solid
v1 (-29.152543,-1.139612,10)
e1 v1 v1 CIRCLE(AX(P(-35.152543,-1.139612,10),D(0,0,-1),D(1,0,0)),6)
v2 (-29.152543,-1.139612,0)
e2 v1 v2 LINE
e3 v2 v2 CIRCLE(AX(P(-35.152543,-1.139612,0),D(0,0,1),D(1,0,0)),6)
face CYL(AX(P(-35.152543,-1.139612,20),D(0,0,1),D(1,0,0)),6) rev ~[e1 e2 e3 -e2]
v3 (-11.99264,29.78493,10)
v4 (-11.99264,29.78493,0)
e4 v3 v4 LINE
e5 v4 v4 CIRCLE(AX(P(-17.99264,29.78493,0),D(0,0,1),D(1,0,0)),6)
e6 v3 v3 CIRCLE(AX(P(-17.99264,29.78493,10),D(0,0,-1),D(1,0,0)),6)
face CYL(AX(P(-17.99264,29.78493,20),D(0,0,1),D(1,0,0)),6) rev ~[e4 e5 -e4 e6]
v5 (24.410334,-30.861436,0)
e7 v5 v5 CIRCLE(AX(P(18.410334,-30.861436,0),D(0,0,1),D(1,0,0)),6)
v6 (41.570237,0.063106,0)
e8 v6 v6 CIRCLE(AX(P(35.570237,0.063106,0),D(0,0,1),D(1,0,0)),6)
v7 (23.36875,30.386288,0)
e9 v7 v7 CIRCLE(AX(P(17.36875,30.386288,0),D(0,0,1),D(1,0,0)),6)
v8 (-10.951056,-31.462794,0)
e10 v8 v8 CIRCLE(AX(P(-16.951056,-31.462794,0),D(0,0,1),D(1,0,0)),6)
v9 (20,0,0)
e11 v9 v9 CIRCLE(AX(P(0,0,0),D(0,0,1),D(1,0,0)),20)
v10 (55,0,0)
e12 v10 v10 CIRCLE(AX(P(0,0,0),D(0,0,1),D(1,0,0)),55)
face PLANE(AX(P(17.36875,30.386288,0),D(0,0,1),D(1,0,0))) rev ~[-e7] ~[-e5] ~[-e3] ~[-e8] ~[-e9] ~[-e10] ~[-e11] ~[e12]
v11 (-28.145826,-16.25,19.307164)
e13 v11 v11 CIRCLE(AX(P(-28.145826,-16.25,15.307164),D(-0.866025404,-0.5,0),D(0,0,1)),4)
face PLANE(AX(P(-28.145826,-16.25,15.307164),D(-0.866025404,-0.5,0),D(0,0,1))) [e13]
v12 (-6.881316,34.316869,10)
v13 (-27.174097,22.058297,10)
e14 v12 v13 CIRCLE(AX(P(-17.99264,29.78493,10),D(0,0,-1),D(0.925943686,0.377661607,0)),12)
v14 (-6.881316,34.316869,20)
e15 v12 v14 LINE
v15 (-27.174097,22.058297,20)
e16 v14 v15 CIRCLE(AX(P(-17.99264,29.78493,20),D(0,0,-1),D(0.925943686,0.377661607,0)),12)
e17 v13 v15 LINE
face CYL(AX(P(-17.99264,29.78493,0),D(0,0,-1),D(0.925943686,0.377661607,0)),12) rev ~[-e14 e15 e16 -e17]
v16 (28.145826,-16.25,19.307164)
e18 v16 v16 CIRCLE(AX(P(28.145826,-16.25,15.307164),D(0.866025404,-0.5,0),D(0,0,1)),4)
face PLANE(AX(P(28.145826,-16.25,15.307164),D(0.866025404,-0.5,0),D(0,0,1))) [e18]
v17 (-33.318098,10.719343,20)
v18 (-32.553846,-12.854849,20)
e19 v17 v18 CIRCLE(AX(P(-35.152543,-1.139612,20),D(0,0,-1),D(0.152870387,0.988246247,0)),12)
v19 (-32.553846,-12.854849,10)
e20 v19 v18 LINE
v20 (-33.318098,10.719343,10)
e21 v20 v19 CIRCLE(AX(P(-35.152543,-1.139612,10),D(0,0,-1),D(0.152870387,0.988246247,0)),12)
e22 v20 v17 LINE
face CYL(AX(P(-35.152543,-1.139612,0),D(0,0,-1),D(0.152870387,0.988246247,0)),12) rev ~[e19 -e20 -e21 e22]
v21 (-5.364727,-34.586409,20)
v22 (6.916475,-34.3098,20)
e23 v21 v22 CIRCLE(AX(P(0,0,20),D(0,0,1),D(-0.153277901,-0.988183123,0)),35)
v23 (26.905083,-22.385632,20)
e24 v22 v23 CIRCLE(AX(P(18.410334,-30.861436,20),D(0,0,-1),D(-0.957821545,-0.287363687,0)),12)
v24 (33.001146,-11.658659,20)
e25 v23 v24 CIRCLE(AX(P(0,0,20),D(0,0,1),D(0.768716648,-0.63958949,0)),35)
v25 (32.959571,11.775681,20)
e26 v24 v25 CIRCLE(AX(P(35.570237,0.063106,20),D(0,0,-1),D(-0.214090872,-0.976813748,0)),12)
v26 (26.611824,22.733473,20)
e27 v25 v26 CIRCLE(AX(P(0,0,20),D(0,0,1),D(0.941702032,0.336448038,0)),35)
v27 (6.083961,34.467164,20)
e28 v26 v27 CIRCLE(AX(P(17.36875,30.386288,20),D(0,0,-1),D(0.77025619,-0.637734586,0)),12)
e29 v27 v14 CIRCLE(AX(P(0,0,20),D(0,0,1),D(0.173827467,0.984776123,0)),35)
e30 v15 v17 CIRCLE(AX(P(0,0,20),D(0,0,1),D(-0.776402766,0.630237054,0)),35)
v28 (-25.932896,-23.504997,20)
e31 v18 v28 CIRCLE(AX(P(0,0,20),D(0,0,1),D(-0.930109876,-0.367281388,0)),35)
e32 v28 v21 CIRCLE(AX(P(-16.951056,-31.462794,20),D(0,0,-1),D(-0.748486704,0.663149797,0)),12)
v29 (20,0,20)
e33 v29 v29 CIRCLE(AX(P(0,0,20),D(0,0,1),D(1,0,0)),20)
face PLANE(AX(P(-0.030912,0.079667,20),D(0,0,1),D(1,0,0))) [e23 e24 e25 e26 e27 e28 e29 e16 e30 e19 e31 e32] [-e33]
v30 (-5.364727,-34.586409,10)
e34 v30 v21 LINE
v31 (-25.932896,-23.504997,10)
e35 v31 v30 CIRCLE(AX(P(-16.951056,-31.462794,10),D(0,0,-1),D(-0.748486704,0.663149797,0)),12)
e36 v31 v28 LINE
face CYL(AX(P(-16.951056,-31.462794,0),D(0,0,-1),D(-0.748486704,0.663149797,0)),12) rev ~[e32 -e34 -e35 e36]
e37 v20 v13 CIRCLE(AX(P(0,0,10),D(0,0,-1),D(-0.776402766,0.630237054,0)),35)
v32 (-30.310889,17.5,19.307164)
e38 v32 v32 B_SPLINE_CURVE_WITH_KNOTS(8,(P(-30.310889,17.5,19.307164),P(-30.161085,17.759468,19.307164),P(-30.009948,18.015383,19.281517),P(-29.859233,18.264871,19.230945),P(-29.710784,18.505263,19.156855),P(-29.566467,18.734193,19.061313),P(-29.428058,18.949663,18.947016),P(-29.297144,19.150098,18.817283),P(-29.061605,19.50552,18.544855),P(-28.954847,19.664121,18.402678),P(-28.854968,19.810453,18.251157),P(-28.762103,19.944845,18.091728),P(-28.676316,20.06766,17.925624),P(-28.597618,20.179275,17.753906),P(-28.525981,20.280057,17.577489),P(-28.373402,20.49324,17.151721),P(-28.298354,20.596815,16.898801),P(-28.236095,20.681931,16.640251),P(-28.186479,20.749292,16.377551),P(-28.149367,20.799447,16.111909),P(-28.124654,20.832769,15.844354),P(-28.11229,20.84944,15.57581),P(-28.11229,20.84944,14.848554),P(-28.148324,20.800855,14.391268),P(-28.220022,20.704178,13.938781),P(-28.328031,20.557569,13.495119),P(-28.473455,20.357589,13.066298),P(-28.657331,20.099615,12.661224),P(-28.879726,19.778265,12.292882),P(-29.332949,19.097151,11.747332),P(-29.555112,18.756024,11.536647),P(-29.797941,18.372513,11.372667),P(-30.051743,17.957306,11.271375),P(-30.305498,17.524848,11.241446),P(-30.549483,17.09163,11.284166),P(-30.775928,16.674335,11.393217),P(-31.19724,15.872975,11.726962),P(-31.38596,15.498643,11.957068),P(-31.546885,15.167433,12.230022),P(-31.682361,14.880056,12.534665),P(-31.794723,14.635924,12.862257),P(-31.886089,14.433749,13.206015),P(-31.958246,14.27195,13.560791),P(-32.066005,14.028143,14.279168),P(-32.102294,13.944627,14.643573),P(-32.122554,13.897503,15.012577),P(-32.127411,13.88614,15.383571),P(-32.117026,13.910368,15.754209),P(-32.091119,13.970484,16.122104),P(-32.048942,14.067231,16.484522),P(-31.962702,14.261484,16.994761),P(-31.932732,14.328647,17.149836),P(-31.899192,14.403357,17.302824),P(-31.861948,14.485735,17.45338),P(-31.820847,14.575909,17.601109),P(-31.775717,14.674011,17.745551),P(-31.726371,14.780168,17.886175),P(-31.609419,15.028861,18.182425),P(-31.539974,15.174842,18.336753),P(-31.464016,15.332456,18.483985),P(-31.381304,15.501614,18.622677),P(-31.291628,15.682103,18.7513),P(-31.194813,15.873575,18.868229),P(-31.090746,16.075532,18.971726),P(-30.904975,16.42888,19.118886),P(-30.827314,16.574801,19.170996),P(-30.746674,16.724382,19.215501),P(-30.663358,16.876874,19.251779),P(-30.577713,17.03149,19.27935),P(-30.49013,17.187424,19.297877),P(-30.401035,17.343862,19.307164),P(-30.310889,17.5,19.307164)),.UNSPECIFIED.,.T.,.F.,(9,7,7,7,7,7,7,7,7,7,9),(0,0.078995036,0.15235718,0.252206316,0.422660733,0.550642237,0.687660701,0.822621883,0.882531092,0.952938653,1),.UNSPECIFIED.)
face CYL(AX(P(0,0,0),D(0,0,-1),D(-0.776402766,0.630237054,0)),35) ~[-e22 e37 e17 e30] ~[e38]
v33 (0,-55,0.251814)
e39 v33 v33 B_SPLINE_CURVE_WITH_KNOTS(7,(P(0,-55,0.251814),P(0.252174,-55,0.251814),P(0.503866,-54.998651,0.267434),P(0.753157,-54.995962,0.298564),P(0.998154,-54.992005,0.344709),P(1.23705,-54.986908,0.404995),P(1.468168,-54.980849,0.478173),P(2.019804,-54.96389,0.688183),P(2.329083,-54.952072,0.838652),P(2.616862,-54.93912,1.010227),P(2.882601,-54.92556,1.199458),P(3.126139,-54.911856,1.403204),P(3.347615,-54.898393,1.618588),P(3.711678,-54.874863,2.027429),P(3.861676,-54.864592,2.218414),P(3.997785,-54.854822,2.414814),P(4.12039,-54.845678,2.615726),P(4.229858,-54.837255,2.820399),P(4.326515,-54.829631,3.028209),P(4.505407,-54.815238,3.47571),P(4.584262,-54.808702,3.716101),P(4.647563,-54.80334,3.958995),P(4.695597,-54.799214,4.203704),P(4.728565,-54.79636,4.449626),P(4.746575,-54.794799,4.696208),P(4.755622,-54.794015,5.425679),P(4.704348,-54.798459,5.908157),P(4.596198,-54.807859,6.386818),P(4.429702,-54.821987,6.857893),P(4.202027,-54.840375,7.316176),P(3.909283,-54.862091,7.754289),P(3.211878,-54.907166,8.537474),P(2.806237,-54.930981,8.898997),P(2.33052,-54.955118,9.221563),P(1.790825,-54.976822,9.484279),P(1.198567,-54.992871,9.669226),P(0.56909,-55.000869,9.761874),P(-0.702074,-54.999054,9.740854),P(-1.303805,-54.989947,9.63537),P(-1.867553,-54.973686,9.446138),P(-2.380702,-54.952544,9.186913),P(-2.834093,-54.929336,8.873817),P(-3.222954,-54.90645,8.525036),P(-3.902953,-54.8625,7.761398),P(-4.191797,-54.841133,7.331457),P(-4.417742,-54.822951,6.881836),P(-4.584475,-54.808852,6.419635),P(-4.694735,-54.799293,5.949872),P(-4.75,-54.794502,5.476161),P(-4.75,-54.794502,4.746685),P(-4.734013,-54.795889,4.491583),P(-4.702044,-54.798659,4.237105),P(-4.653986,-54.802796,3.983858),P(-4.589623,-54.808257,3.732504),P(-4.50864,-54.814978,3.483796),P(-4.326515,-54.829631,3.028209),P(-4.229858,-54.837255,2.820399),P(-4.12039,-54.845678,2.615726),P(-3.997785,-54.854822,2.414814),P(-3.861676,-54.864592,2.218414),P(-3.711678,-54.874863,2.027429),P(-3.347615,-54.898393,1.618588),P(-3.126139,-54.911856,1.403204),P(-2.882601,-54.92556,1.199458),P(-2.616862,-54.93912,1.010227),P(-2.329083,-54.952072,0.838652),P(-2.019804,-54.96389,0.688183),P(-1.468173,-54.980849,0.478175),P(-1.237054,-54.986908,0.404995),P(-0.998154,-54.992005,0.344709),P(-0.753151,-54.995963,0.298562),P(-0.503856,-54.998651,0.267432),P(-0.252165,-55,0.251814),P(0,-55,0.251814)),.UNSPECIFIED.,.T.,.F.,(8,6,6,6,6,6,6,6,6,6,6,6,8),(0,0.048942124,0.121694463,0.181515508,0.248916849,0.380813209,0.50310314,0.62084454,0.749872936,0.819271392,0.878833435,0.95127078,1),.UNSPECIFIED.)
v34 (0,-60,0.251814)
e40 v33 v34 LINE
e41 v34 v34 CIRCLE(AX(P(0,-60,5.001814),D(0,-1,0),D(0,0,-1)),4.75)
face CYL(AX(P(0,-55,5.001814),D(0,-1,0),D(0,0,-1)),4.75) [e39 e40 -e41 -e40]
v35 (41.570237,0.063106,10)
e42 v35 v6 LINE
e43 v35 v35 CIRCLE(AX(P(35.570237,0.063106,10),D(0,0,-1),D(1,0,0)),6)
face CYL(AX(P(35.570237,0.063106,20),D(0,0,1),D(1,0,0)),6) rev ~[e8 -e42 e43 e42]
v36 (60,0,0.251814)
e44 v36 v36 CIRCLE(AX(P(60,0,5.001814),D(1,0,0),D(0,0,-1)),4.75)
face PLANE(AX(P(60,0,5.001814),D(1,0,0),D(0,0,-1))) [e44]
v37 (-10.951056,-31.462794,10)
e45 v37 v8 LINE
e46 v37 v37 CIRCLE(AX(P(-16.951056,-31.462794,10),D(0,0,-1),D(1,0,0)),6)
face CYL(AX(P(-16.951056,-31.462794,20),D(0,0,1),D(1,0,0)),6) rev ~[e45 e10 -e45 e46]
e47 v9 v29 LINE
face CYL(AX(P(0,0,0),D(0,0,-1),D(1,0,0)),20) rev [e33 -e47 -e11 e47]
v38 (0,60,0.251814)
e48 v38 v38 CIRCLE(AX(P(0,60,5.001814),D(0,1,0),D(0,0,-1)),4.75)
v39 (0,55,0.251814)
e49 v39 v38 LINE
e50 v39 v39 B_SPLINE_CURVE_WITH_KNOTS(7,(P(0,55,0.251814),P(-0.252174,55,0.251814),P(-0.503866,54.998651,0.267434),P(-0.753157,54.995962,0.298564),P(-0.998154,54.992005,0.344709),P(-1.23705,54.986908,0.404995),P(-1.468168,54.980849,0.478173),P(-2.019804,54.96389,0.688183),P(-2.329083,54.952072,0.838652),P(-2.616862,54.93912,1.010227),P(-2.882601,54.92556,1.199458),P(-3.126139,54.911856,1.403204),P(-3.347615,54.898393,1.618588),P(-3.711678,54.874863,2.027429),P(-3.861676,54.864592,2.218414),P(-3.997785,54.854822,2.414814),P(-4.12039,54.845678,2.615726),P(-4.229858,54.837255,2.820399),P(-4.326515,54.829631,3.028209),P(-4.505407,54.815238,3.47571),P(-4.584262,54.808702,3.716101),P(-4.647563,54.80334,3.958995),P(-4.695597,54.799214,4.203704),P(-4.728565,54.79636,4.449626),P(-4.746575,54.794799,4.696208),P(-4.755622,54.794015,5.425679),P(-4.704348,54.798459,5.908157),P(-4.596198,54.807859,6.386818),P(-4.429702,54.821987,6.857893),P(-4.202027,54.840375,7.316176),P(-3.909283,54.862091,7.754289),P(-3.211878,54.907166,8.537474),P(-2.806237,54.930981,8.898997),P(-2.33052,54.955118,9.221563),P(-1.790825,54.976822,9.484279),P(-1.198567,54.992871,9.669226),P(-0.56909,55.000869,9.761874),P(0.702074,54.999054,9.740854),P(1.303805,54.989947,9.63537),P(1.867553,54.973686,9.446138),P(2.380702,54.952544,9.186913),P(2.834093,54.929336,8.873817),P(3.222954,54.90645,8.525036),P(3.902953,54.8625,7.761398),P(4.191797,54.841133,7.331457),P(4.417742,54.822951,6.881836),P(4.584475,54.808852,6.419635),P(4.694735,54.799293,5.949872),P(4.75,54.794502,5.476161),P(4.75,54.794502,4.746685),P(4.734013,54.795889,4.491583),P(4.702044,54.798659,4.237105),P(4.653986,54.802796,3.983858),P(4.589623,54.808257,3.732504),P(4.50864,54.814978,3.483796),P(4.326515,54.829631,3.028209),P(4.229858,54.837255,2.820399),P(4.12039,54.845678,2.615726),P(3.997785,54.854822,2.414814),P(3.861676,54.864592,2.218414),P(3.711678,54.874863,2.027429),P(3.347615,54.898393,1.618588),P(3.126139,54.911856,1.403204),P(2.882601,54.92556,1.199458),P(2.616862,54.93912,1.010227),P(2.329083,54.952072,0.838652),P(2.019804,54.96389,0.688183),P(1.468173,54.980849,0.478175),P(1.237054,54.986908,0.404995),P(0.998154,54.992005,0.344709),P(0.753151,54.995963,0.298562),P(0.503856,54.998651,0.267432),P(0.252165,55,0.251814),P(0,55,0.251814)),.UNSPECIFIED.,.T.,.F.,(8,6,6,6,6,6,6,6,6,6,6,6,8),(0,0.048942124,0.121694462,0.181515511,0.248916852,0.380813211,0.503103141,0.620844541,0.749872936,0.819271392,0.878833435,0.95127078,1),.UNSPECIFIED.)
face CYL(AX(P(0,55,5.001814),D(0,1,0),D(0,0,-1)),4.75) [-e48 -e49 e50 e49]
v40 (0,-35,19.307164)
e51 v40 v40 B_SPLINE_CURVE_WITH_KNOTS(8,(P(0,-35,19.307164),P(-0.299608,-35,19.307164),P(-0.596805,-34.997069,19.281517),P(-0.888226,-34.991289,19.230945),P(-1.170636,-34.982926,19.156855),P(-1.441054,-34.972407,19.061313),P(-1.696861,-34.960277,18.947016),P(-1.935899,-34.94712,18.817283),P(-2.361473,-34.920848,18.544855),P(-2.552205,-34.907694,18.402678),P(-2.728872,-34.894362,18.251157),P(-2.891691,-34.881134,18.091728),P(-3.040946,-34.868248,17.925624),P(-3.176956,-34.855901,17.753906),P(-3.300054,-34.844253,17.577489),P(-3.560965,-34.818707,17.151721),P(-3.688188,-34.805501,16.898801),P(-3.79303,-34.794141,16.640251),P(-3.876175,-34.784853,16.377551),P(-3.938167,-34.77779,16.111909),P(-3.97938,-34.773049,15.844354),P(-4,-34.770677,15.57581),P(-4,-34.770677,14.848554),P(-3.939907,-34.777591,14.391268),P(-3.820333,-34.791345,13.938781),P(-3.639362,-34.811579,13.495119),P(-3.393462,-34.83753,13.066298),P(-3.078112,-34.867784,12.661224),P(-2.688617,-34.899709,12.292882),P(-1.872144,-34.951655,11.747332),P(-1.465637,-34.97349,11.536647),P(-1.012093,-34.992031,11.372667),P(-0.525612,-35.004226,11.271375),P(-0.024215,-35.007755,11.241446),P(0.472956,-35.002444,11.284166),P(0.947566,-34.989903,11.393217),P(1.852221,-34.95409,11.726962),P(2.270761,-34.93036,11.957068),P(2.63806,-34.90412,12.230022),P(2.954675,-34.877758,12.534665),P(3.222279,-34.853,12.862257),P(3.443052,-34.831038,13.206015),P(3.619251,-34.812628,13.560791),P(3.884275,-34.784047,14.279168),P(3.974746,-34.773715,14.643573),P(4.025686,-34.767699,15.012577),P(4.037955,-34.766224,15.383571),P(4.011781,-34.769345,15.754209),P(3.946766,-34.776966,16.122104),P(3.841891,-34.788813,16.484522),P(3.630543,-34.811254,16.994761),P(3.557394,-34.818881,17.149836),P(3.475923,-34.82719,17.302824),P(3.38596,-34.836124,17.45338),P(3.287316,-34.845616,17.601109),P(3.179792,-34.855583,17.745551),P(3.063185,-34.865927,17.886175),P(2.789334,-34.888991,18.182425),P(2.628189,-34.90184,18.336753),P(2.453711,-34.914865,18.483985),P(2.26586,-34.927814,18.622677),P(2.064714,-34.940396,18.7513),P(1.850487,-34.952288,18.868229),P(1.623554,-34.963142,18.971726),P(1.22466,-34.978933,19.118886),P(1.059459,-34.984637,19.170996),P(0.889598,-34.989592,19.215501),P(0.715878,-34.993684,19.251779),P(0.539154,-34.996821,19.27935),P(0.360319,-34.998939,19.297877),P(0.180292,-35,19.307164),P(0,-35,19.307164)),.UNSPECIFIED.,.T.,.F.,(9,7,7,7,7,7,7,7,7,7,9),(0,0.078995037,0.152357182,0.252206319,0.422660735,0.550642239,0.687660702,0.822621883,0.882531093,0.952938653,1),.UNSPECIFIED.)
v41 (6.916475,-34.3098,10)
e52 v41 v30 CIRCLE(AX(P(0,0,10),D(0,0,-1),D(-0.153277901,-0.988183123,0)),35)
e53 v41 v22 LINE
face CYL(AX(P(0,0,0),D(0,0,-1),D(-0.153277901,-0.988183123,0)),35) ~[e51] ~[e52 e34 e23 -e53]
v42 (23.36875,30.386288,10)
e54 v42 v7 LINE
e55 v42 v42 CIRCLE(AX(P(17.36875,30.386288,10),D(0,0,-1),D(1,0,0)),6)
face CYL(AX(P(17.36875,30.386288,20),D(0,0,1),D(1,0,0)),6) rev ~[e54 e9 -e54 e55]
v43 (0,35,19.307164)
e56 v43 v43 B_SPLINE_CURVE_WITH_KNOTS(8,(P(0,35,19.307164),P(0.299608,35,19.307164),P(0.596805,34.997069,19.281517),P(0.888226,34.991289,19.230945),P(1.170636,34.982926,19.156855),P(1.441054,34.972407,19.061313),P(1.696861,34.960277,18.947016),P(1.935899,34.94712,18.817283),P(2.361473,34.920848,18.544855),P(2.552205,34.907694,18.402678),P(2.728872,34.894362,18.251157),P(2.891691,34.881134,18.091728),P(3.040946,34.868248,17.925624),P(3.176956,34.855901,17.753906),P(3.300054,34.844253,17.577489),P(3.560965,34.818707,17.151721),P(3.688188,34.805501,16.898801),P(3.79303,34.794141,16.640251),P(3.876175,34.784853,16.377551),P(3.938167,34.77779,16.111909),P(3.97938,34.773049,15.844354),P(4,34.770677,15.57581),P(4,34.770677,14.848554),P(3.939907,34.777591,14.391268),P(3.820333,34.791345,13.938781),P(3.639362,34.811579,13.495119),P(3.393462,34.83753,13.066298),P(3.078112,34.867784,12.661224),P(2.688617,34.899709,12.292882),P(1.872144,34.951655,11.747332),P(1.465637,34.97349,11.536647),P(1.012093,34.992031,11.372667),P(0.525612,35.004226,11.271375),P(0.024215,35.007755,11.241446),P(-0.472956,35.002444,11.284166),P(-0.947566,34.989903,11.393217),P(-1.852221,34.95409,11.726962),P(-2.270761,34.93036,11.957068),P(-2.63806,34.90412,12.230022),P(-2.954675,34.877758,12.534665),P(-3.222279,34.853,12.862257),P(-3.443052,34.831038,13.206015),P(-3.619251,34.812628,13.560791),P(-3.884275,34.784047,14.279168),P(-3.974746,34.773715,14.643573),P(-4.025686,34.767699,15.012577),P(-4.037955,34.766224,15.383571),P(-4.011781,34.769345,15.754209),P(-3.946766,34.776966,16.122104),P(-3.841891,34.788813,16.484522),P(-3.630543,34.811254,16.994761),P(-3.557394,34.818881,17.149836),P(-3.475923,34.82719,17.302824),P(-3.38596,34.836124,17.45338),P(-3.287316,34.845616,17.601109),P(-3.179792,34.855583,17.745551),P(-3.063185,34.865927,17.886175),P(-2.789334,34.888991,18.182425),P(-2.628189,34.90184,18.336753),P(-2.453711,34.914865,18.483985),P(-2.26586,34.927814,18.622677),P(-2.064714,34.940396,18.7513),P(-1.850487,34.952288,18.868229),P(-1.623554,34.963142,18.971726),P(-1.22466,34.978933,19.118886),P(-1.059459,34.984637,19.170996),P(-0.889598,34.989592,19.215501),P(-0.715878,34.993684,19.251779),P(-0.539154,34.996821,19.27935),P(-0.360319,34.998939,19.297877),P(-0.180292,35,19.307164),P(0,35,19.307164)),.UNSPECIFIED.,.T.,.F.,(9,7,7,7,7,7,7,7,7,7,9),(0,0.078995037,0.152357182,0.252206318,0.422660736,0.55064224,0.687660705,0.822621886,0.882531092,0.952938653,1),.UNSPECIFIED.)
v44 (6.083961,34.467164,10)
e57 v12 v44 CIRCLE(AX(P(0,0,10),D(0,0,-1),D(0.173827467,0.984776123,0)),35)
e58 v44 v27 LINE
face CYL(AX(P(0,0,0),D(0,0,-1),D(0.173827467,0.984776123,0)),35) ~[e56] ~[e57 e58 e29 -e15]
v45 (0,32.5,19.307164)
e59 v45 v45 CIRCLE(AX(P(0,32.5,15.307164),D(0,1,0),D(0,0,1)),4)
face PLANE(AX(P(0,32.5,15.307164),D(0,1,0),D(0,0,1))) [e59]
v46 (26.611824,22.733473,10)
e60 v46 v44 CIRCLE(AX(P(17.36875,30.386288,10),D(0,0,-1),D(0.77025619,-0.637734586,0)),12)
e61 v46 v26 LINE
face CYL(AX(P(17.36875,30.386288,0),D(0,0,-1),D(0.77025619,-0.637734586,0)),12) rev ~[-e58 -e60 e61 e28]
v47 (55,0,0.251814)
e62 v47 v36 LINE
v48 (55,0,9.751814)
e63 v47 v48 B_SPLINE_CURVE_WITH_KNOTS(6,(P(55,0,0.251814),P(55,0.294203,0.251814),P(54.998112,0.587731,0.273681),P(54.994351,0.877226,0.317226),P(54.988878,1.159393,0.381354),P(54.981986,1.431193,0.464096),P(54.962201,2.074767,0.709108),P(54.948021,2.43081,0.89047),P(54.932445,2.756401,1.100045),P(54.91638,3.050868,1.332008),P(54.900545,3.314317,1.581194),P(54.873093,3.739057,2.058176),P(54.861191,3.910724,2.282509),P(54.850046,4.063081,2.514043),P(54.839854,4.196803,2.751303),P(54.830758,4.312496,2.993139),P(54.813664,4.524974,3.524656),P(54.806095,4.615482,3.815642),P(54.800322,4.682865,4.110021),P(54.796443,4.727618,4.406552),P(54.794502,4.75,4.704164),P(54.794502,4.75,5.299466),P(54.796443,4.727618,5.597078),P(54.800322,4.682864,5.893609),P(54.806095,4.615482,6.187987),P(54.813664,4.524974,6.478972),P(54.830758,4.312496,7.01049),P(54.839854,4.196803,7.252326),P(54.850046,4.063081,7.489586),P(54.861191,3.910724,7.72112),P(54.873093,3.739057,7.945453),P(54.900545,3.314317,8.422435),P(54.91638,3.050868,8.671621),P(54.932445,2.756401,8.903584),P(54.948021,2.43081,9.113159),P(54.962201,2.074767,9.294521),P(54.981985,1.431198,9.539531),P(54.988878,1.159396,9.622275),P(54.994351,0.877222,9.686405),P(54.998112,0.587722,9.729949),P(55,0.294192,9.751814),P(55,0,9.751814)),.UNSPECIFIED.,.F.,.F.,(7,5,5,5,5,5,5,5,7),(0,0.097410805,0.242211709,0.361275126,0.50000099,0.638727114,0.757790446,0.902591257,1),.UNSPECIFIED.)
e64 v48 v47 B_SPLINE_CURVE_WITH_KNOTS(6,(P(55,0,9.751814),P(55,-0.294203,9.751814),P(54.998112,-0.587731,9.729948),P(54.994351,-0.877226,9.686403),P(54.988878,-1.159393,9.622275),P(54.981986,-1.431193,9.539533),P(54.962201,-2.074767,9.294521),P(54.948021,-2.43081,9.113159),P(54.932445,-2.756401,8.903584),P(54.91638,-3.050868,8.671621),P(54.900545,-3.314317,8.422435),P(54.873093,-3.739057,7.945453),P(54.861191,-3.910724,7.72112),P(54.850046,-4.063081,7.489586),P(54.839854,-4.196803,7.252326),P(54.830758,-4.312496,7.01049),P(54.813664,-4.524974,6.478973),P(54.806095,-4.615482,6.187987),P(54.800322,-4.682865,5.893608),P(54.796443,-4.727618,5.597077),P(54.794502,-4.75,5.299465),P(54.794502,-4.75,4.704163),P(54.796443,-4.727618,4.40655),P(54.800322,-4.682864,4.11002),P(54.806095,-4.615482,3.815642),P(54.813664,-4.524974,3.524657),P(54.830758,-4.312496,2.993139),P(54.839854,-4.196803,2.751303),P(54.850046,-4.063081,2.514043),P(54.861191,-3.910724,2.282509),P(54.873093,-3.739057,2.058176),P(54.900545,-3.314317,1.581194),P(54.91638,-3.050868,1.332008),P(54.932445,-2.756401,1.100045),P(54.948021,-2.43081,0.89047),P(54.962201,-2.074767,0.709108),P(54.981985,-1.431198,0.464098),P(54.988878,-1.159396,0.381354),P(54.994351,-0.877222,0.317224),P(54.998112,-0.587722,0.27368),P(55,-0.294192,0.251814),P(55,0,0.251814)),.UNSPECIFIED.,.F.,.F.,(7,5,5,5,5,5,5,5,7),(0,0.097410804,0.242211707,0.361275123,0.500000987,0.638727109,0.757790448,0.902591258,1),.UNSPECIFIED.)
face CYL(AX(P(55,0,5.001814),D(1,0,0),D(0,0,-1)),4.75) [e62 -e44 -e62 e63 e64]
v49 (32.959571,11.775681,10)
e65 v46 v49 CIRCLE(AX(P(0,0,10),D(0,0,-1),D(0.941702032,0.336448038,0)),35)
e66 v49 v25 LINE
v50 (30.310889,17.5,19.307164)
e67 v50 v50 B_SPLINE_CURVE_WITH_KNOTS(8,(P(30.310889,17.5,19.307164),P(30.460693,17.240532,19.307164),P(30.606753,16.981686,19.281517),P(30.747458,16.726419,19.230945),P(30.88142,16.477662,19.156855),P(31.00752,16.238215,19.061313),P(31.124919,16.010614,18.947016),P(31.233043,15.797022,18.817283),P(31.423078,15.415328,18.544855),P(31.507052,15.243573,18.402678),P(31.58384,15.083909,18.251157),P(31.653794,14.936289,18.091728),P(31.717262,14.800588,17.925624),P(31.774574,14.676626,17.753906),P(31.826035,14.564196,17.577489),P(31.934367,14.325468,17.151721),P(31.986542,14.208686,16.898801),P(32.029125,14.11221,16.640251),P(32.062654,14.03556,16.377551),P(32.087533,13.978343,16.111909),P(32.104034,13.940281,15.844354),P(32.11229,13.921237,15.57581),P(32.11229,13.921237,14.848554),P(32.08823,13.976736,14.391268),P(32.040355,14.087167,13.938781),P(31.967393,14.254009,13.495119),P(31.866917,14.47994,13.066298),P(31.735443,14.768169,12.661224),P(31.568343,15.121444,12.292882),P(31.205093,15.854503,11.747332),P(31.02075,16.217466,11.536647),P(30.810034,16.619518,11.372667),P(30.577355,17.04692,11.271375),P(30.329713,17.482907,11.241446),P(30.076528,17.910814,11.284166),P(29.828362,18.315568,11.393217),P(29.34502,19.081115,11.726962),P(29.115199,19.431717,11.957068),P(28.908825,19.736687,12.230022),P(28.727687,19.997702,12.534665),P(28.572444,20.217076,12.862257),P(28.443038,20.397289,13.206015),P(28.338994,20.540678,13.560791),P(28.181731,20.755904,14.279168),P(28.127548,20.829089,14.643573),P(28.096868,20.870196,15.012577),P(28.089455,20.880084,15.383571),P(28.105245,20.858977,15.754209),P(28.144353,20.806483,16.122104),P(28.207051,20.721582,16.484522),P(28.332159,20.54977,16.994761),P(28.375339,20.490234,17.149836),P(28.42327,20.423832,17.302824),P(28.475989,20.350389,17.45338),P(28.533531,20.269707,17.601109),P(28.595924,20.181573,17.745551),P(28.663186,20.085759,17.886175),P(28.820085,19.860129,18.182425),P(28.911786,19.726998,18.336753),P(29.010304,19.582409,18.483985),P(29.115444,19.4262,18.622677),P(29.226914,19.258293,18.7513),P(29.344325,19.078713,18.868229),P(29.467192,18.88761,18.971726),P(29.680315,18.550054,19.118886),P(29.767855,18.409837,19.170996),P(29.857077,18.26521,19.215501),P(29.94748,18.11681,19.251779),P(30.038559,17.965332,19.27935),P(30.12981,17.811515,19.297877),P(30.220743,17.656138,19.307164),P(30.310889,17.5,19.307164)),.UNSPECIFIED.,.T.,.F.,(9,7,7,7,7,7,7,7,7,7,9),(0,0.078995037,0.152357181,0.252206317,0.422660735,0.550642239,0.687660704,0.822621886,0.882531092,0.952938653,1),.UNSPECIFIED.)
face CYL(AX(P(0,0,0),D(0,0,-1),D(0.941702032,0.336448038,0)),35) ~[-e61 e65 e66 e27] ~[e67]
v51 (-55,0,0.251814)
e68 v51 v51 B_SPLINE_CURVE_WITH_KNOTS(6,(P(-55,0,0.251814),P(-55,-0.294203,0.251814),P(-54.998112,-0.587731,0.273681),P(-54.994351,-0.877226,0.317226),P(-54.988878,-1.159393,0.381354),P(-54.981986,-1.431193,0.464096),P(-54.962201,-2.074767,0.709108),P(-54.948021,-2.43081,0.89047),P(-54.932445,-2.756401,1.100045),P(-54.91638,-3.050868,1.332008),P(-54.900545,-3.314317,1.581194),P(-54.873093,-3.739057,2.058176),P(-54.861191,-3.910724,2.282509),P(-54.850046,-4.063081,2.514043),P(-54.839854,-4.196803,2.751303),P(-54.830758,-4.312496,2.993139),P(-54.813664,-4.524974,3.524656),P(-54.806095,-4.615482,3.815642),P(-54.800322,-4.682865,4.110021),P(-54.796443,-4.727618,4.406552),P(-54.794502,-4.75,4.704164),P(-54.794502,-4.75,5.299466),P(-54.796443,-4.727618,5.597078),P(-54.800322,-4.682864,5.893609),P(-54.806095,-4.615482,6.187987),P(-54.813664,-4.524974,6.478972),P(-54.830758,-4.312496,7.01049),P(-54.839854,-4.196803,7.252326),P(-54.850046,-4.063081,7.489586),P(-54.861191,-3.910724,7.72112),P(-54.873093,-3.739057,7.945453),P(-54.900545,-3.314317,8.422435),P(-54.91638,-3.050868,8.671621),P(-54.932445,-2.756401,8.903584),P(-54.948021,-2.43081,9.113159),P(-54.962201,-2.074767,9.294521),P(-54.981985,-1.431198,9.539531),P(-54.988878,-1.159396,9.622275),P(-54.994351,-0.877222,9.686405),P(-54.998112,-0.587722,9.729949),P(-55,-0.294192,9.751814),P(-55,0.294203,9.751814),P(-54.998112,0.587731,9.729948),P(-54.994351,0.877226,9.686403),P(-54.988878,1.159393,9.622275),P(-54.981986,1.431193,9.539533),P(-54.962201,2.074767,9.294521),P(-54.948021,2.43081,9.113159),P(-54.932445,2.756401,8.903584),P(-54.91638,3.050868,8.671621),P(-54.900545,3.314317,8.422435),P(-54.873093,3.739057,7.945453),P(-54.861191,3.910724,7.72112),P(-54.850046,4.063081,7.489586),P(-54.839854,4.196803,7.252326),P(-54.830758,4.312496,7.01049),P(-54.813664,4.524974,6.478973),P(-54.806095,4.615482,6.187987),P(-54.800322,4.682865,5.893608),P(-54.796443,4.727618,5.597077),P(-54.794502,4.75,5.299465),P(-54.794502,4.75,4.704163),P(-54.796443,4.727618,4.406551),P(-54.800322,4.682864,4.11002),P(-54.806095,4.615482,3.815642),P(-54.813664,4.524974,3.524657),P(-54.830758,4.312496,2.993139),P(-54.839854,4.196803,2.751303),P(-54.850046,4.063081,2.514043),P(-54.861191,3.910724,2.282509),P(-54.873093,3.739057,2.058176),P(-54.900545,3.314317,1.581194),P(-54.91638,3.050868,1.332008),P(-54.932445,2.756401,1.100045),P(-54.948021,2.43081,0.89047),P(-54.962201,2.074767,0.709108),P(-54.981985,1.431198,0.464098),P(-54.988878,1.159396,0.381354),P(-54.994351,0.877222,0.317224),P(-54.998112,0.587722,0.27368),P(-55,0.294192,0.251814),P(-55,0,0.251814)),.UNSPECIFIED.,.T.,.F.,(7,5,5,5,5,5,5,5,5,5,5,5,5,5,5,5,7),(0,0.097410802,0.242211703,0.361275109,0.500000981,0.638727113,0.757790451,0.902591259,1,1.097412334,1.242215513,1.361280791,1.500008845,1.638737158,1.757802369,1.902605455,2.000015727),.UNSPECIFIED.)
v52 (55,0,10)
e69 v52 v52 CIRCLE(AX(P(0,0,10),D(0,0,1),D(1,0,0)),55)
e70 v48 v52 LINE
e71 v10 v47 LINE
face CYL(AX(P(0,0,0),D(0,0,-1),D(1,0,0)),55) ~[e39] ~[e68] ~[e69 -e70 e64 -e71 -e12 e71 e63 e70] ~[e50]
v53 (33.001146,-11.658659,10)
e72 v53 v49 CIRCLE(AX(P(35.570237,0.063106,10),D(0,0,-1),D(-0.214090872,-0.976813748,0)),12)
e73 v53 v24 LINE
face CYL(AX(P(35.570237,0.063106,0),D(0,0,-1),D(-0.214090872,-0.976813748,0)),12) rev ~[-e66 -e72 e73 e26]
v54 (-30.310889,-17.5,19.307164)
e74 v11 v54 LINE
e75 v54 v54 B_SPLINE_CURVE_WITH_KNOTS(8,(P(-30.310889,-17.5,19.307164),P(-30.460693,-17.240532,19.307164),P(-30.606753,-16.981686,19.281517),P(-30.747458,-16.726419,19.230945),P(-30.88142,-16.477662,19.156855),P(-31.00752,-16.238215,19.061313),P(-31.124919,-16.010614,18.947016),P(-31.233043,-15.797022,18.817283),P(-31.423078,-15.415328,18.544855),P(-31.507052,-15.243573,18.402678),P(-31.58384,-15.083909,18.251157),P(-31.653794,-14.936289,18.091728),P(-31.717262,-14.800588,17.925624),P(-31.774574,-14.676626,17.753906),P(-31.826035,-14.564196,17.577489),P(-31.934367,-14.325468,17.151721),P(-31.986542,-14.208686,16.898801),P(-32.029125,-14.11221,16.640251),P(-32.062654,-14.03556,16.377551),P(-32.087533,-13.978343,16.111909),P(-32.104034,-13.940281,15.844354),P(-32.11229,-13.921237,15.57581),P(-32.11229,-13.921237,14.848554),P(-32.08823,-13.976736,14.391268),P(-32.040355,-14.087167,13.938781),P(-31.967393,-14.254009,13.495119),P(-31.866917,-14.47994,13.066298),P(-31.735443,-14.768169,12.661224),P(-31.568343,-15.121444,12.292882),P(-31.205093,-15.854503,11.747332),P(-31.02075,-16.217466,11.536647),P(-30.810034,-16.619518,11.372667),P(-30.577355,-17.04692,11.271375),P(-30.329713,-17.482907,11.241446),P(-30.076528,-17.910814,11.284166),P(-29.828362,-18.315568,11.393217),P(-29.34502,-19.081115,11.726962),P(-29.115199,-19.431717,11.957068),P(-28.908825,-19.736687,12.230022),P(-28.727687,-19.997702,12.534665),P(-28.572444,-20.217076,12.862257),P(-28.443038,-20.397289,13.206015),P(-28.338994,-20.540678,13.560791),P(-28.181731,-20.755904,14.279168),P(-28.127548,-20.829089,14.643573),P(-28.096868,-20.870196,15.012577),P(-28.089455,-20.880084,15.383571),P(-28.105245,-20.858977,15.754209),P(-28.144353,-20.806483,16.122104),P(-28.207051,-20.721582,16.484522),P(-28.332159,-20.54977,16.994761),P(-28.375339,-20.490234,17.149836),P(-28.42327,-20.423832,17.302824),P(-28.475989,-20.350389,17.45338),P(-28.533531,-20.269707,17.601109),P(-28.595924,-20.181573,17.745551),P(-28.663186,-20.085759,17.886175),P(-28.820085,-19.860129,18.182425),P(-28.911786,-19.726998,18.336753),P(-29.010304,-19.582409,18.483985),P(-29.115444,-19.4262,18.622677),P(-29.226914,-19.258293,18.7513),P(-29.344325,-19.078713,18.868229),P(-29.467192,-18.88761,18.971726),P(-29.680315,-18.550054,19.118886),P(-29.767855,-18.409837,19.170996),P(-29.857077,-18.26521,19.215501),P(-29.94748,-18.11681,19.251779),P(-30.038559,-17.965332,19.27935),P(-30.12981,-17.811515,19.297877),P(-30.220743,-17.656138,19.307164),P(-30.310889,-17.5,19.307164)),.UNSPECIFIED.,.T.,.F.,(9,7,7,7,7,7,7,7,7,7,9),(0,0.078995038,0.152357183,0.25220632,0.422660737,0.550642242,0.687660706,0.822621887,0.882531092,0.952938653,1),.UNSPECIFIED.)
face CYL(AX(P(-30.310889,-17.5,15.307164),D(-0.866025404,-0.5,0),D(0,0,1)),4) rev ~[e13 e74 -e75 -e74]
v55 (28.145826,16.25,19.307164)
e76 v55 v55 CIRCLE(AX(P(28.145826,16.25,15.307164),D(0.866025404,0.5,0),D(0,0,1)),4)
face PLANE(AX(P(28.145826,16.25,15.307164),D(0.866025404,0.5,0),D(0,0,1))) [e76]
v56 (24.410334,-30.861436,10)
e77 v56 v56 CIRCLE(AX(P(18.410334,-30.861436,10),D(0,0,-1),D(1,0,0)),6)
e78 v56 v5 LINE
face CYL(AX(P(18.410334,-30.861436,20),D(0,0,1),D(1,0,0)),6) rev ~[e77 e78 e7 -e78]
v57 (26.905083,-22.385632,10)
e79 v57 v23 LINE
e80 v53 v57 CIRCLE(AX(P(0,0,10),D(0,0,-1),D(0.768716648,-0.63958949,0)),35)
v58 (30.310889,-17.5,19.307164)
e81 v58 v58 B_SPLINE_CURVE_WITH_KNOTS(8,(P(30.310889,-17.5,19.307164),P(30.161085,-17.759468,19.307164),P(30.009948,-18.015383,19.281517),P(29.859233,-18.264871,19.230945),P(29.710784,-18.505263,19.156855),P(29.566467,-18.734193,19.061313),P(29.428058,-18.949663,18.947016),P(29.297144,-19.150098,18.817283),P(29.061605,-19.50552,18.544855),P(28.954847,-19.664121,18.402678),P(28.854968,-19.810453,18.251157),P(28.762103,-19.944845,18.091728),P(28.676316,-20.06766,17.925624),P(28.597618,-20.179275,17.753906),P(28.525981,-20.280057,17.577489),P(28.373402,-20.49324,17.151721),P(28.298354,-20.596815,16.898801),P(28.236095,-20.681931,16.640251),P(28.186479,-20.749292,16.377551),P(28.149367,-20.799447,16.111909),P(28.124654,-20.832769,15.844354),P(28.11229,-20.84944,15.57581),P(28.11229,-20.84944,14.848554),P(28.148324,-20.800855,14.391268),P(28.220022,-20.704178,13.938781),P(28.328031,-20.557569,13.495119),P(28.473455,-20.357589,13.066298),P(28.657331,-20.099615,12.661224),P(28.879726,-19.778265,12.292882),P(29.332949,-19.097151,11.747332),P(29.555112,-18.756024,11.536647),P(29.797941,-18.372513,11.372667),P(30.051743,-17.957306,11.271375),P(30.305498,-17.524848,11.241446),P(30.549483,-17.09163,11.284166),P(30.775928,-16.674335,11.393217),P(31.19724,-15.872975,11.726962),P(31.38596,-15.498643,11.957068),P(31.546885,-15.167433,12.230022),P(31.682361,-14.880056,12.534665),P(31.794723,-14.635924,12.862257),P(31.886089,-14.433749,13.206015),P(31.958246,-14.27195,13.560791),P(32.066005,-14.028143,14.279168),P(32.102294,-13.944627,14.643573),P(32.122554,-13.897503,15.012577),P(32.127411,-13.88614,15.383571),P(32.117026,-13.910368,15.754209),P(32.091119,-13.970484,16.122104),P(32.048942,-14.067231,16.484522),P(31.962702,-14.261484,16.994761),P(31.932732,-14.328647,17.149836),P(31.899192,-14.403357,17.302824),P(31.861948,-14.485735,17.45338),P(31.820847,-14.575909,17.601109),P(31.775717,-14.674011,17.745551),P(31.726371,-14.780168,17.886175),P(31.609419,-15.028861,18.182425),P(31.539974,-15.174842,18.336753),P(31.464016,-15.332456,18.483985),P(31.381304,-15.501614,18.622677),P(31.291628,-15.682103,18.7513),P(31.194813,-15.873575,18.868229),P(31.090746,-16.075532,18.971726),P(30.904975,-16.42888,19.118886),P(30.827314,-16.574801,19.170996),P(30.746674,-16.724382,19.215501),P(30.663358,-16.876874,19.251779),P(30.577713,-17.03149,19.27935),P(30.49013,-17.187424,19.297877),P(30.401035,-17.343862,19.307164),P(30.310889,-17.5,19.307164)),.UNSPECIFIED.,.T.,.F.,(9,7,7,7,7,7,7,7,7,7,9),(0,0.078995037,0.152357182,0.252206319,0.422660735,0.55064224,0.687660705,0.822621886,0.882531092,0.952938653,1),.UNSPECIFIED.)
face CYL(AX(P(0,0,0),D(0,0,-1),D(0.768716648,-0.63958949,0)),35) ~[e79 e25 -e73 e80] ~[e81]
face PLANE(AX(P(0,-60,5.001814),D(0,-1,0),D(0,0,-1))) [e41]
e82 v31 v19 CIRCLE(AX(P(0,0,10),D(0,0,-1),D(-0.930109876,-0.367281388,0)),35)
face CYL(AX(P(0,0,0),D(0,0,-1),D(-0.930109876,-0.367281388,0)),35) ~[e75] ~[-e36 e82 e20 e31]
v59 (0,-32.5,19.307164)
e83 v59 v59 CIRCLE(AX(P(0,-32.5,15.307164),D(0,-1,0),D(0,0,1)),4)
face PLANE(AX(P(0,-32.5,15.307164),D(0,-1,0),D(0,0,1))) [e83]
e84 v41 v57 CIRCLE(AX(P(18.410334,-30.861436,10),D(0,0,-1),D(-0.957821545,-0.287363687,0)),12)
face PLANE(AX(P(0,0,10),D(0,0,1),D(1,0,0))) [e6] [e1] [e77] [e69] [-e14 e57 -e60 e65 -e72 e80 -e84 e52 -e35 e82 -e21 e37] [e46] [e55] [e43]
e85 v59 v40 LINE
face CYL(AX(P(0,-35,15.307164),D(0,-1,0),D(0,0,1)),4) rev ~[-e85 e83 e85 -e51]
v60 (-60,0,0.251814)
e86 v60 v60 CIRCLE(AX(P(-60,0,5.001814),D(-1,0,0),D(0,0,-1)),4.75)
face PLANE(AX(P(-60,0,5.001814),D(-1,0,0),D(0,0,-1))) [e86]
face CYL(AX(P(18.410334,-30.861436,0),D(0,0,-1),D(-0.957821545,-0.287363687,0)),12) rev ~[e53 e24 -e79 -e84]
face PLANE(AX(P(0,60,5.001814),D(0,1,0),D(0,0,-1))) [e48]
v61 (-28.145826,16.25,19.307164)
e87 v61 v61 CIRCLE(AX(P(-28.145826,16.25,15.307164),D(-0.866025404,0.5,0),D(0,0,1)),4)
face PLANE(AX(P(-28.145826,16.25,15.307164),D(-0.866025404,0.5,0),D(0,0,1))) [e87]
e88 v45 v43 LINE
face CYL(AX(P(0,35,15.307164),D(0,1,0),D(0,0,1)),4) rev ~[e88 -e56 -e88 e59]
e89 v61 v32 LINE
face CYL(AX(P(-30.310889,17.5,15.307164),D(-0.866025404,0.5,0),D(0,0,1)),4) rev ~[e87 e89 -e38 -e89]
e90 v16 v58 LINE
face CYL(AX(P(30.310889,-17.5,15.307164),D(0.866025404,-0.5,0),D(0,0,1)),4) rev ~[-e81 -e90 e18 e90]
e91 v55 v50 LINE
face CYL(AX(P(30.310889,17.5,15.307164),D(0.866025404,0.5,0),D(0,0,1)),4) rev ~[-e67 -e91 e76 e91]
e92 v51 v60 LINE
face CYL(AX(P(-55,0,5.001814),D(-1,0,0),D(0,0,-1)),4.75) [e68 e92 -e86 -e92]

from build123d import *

# Parameters (mm, degrees)
CROQUIS1_R              = 55
CROQUIS1_R_2            = 20
SALIENTE_EXTRUIR1_DEPTH = 10
CROQUIS2_R              = 6
CROQUIS2_R_2            = 20
SALIENTE_EXTRUIR2_DEPTH = 20
CROQUIS3_R              = 6
CORTAR_EXTRUIR2_DEPTH   = 81.311892021
CROQUIS4_R              = 4.75
SALIENTE_EXTRUIR3_DEPTH = 5
MATRIZC1_COUNT          = 4
CROQUIS5_R              = 4
CORTAR_EXTRUIR3_DEPTH   = 2.5
MATRIZC2_COUNT          = 6


with BuildPart() as part:
    # Croquis1 → Saliente-Extruir1 (new body)
    with BuildSketch(Plane.XY):
        Circle(CROQUIS1_R)
        Circle(CROQUIS1_R_2, mode=Mode.SUBTRACT)
    extrude(amount=SALIENTE_EXTRUIR1_DEPTH)

    # Croquis2 → Saliente-Extruir2 (add)
    # profile 1 of 7: a face of its own
    with BuildSketch(Plane.XY):
        with Locations((17.368749874, 30.386288484)):
            Circle(CROQUIS2_R)
    # profile 2 of 7: a face of its own
    with BuildSketch(Plane.XY):
        with Locations((35.570236927, 0.06310586)):
            Circle(CROQUIS2_R)
    # profile 3 of 7: a face of its own
    with BuildSketch(Plane.XY):
        with Locations((18.410333978, -30.861435627)):
            Circle(CROQUIS2_R)
    # profile 4 of 7: a face of its own
    with BuildSketch(Plane.XY):
        with Locations((-16.951056024, -31.462794489)):
            Circle(CROQUIS2_R)
    # profile 5 of 7: a face of its own
    with BuildSketch(Plane.XY):
        with Locations((-35.152543077, -1.139611866)):
            Circle(CROQUIS2_R)
    # profile 6 of 7: a face of its own
    with BuildSketch(Plane.XY):
        with Locations((-17.992640128, 29.784929621)):
            Circle(CROQUIS2_R)
    # profile 7 of 7: a face of its own
    with BuildSketch(Plane.XY):
        with BuildLine():
            ThreePointArc((-27.174096814, 22.058296905), (-30.772867756, 16.67424991), (-33.318098438, 10.719343099))
            ThreePointArc((-33.318098438, 10.719343099), (-23.158844078, -0.750787602), (-32.553845663, -12.8548486))
            ThreePointArc((-32.553845663, -12.8548486), (-29.724252158, -18.478875336), (-25.932896476, -23.504996924))
            ThreePointArc((-25.932896476, -23.504996924), (-11.259372102, -20.898480308), (-5.36472656, -34.58640931))
            ThreePointArc((-5.36472656, -34.58640931), (0.788104907, -34.991125884), (6.916475444, -34.309799875))
            ThreePointArc((6.916475444, -34.309799875), (12.262561294, -20.555859902), (26.90508267, -22.385632145))
            ThreePointArc((26.90508267, -22.385632145), (30.429526117, -17.292886986), (33.001146459, -11.658659117))
            ThreePointArc((33.001146459, -11.658659117), (23.570255812, 0.041816456), (32.959571133, 11.775681328))
            ThreePointArc((32.959571133, 11.775681328), (30.28541045, 17.544056369), (26.611824153, 22.733473454))
            ThreePointArc((26.611824153, 22.733473454), (11.413749917, 19.968132432), (6.083961325, 34.467164296))
            ThreePointArc((6.083961325, 34.467164296), (-0.405697858, 34.997648625), (-6.881315891, 34.316868907))
            ThreePointArc((-6.881315891, 34.316868907), (-11.787864219, 19.513573531), (-27.174096814, 22.058296905))
        make_face()
        Circle(CROQUIS2_R_2, mode=Mode.SUBTRACT)
    extrude(amount=SALIENTE_EXTRUIR2_DEPTH)

    # Croquis3 → Cortar-Extruir2 (cut, through all)
    with BuildSketch(Plane.XY.offset(20)):
        with Locations((-17.992640128, 29.784929621)):
            Circle(CROQUIS3_R)
        with Locations((-35.152543077, -1.139611866)):
            Circle(CROQUIS3_R)
        with Locations((-16.951056024, -31.462794489)):
            Circle(CROQUIS3_R)
        with Locations((18.410333978, -30.861435627)):
            Circle(CROQUIS3_R)
        with Locations((35.570236927, 0.06310586)):
            Circle(CROQUIS3_R)
        with Locations((17.368749874, 30.386288484)):
            Circle(CROQUIS3_R)
    extrude(amount=-CORTAR_EXTRUIR2_DEPTH, mode=Mode.SUBTRACT)

    # Croquis4 → Saliente-Extruir3 (add, symmetric)
    with BuildSketch(Plane(origin=(0, 55, 0), x_dir=(1, 0, 0), z_dir=(0, 1, 0))):
        with Locations(Location((0, -5.001814487, 0), (0, 0, 90))):
            Circle(CROQUIS4_R)
    saliente_extruir3 = extrude(amount=SALIENTE_EXTRUIR3_DEPTH, both=True)

    # MatrizC1: Saliente-Extruir3 ×4 about axis
    matrizc1_axis = Axis((0, 0, 0), (0, 0, 1))
    for i in range(1, MATRIZC1_COUNT):
        add(saliente_extruir3.rotate(matrizc1_axis, i * 360 / MATRIZC1_COUNT))

    # Croquis5 → Cortar-Extruir3 (cut, symmetric)
    with BuildSketch(Plane(origin=(0, 35, 0), x_dir=(1, 0, 0), z_dir=(0, 1, 0))):
        with Locations(Location((0, -15.307164254, 0), (0, 0, 270))):
            Circle(CROQUIS5_R)
    cortar_extruir3 = extrude(amount=CORTAR_EXTRUIR3_DEPTH, both=True, mode=Mode.SUBTRACT)

    # MatrizC2: Cortar-Extruir3 ×6 about axis
    matrizc2_axis = Axis((0, 0, 0), (0, 0, 1))
    for i in range(1, MATRIZC2_COUNT):
        add(cortar_extruir3.rotate(matrizc2_axis, i * 360 / MATRIZC2_COUNT), mode=Mode.SUBTRACT)


solid = part.part
